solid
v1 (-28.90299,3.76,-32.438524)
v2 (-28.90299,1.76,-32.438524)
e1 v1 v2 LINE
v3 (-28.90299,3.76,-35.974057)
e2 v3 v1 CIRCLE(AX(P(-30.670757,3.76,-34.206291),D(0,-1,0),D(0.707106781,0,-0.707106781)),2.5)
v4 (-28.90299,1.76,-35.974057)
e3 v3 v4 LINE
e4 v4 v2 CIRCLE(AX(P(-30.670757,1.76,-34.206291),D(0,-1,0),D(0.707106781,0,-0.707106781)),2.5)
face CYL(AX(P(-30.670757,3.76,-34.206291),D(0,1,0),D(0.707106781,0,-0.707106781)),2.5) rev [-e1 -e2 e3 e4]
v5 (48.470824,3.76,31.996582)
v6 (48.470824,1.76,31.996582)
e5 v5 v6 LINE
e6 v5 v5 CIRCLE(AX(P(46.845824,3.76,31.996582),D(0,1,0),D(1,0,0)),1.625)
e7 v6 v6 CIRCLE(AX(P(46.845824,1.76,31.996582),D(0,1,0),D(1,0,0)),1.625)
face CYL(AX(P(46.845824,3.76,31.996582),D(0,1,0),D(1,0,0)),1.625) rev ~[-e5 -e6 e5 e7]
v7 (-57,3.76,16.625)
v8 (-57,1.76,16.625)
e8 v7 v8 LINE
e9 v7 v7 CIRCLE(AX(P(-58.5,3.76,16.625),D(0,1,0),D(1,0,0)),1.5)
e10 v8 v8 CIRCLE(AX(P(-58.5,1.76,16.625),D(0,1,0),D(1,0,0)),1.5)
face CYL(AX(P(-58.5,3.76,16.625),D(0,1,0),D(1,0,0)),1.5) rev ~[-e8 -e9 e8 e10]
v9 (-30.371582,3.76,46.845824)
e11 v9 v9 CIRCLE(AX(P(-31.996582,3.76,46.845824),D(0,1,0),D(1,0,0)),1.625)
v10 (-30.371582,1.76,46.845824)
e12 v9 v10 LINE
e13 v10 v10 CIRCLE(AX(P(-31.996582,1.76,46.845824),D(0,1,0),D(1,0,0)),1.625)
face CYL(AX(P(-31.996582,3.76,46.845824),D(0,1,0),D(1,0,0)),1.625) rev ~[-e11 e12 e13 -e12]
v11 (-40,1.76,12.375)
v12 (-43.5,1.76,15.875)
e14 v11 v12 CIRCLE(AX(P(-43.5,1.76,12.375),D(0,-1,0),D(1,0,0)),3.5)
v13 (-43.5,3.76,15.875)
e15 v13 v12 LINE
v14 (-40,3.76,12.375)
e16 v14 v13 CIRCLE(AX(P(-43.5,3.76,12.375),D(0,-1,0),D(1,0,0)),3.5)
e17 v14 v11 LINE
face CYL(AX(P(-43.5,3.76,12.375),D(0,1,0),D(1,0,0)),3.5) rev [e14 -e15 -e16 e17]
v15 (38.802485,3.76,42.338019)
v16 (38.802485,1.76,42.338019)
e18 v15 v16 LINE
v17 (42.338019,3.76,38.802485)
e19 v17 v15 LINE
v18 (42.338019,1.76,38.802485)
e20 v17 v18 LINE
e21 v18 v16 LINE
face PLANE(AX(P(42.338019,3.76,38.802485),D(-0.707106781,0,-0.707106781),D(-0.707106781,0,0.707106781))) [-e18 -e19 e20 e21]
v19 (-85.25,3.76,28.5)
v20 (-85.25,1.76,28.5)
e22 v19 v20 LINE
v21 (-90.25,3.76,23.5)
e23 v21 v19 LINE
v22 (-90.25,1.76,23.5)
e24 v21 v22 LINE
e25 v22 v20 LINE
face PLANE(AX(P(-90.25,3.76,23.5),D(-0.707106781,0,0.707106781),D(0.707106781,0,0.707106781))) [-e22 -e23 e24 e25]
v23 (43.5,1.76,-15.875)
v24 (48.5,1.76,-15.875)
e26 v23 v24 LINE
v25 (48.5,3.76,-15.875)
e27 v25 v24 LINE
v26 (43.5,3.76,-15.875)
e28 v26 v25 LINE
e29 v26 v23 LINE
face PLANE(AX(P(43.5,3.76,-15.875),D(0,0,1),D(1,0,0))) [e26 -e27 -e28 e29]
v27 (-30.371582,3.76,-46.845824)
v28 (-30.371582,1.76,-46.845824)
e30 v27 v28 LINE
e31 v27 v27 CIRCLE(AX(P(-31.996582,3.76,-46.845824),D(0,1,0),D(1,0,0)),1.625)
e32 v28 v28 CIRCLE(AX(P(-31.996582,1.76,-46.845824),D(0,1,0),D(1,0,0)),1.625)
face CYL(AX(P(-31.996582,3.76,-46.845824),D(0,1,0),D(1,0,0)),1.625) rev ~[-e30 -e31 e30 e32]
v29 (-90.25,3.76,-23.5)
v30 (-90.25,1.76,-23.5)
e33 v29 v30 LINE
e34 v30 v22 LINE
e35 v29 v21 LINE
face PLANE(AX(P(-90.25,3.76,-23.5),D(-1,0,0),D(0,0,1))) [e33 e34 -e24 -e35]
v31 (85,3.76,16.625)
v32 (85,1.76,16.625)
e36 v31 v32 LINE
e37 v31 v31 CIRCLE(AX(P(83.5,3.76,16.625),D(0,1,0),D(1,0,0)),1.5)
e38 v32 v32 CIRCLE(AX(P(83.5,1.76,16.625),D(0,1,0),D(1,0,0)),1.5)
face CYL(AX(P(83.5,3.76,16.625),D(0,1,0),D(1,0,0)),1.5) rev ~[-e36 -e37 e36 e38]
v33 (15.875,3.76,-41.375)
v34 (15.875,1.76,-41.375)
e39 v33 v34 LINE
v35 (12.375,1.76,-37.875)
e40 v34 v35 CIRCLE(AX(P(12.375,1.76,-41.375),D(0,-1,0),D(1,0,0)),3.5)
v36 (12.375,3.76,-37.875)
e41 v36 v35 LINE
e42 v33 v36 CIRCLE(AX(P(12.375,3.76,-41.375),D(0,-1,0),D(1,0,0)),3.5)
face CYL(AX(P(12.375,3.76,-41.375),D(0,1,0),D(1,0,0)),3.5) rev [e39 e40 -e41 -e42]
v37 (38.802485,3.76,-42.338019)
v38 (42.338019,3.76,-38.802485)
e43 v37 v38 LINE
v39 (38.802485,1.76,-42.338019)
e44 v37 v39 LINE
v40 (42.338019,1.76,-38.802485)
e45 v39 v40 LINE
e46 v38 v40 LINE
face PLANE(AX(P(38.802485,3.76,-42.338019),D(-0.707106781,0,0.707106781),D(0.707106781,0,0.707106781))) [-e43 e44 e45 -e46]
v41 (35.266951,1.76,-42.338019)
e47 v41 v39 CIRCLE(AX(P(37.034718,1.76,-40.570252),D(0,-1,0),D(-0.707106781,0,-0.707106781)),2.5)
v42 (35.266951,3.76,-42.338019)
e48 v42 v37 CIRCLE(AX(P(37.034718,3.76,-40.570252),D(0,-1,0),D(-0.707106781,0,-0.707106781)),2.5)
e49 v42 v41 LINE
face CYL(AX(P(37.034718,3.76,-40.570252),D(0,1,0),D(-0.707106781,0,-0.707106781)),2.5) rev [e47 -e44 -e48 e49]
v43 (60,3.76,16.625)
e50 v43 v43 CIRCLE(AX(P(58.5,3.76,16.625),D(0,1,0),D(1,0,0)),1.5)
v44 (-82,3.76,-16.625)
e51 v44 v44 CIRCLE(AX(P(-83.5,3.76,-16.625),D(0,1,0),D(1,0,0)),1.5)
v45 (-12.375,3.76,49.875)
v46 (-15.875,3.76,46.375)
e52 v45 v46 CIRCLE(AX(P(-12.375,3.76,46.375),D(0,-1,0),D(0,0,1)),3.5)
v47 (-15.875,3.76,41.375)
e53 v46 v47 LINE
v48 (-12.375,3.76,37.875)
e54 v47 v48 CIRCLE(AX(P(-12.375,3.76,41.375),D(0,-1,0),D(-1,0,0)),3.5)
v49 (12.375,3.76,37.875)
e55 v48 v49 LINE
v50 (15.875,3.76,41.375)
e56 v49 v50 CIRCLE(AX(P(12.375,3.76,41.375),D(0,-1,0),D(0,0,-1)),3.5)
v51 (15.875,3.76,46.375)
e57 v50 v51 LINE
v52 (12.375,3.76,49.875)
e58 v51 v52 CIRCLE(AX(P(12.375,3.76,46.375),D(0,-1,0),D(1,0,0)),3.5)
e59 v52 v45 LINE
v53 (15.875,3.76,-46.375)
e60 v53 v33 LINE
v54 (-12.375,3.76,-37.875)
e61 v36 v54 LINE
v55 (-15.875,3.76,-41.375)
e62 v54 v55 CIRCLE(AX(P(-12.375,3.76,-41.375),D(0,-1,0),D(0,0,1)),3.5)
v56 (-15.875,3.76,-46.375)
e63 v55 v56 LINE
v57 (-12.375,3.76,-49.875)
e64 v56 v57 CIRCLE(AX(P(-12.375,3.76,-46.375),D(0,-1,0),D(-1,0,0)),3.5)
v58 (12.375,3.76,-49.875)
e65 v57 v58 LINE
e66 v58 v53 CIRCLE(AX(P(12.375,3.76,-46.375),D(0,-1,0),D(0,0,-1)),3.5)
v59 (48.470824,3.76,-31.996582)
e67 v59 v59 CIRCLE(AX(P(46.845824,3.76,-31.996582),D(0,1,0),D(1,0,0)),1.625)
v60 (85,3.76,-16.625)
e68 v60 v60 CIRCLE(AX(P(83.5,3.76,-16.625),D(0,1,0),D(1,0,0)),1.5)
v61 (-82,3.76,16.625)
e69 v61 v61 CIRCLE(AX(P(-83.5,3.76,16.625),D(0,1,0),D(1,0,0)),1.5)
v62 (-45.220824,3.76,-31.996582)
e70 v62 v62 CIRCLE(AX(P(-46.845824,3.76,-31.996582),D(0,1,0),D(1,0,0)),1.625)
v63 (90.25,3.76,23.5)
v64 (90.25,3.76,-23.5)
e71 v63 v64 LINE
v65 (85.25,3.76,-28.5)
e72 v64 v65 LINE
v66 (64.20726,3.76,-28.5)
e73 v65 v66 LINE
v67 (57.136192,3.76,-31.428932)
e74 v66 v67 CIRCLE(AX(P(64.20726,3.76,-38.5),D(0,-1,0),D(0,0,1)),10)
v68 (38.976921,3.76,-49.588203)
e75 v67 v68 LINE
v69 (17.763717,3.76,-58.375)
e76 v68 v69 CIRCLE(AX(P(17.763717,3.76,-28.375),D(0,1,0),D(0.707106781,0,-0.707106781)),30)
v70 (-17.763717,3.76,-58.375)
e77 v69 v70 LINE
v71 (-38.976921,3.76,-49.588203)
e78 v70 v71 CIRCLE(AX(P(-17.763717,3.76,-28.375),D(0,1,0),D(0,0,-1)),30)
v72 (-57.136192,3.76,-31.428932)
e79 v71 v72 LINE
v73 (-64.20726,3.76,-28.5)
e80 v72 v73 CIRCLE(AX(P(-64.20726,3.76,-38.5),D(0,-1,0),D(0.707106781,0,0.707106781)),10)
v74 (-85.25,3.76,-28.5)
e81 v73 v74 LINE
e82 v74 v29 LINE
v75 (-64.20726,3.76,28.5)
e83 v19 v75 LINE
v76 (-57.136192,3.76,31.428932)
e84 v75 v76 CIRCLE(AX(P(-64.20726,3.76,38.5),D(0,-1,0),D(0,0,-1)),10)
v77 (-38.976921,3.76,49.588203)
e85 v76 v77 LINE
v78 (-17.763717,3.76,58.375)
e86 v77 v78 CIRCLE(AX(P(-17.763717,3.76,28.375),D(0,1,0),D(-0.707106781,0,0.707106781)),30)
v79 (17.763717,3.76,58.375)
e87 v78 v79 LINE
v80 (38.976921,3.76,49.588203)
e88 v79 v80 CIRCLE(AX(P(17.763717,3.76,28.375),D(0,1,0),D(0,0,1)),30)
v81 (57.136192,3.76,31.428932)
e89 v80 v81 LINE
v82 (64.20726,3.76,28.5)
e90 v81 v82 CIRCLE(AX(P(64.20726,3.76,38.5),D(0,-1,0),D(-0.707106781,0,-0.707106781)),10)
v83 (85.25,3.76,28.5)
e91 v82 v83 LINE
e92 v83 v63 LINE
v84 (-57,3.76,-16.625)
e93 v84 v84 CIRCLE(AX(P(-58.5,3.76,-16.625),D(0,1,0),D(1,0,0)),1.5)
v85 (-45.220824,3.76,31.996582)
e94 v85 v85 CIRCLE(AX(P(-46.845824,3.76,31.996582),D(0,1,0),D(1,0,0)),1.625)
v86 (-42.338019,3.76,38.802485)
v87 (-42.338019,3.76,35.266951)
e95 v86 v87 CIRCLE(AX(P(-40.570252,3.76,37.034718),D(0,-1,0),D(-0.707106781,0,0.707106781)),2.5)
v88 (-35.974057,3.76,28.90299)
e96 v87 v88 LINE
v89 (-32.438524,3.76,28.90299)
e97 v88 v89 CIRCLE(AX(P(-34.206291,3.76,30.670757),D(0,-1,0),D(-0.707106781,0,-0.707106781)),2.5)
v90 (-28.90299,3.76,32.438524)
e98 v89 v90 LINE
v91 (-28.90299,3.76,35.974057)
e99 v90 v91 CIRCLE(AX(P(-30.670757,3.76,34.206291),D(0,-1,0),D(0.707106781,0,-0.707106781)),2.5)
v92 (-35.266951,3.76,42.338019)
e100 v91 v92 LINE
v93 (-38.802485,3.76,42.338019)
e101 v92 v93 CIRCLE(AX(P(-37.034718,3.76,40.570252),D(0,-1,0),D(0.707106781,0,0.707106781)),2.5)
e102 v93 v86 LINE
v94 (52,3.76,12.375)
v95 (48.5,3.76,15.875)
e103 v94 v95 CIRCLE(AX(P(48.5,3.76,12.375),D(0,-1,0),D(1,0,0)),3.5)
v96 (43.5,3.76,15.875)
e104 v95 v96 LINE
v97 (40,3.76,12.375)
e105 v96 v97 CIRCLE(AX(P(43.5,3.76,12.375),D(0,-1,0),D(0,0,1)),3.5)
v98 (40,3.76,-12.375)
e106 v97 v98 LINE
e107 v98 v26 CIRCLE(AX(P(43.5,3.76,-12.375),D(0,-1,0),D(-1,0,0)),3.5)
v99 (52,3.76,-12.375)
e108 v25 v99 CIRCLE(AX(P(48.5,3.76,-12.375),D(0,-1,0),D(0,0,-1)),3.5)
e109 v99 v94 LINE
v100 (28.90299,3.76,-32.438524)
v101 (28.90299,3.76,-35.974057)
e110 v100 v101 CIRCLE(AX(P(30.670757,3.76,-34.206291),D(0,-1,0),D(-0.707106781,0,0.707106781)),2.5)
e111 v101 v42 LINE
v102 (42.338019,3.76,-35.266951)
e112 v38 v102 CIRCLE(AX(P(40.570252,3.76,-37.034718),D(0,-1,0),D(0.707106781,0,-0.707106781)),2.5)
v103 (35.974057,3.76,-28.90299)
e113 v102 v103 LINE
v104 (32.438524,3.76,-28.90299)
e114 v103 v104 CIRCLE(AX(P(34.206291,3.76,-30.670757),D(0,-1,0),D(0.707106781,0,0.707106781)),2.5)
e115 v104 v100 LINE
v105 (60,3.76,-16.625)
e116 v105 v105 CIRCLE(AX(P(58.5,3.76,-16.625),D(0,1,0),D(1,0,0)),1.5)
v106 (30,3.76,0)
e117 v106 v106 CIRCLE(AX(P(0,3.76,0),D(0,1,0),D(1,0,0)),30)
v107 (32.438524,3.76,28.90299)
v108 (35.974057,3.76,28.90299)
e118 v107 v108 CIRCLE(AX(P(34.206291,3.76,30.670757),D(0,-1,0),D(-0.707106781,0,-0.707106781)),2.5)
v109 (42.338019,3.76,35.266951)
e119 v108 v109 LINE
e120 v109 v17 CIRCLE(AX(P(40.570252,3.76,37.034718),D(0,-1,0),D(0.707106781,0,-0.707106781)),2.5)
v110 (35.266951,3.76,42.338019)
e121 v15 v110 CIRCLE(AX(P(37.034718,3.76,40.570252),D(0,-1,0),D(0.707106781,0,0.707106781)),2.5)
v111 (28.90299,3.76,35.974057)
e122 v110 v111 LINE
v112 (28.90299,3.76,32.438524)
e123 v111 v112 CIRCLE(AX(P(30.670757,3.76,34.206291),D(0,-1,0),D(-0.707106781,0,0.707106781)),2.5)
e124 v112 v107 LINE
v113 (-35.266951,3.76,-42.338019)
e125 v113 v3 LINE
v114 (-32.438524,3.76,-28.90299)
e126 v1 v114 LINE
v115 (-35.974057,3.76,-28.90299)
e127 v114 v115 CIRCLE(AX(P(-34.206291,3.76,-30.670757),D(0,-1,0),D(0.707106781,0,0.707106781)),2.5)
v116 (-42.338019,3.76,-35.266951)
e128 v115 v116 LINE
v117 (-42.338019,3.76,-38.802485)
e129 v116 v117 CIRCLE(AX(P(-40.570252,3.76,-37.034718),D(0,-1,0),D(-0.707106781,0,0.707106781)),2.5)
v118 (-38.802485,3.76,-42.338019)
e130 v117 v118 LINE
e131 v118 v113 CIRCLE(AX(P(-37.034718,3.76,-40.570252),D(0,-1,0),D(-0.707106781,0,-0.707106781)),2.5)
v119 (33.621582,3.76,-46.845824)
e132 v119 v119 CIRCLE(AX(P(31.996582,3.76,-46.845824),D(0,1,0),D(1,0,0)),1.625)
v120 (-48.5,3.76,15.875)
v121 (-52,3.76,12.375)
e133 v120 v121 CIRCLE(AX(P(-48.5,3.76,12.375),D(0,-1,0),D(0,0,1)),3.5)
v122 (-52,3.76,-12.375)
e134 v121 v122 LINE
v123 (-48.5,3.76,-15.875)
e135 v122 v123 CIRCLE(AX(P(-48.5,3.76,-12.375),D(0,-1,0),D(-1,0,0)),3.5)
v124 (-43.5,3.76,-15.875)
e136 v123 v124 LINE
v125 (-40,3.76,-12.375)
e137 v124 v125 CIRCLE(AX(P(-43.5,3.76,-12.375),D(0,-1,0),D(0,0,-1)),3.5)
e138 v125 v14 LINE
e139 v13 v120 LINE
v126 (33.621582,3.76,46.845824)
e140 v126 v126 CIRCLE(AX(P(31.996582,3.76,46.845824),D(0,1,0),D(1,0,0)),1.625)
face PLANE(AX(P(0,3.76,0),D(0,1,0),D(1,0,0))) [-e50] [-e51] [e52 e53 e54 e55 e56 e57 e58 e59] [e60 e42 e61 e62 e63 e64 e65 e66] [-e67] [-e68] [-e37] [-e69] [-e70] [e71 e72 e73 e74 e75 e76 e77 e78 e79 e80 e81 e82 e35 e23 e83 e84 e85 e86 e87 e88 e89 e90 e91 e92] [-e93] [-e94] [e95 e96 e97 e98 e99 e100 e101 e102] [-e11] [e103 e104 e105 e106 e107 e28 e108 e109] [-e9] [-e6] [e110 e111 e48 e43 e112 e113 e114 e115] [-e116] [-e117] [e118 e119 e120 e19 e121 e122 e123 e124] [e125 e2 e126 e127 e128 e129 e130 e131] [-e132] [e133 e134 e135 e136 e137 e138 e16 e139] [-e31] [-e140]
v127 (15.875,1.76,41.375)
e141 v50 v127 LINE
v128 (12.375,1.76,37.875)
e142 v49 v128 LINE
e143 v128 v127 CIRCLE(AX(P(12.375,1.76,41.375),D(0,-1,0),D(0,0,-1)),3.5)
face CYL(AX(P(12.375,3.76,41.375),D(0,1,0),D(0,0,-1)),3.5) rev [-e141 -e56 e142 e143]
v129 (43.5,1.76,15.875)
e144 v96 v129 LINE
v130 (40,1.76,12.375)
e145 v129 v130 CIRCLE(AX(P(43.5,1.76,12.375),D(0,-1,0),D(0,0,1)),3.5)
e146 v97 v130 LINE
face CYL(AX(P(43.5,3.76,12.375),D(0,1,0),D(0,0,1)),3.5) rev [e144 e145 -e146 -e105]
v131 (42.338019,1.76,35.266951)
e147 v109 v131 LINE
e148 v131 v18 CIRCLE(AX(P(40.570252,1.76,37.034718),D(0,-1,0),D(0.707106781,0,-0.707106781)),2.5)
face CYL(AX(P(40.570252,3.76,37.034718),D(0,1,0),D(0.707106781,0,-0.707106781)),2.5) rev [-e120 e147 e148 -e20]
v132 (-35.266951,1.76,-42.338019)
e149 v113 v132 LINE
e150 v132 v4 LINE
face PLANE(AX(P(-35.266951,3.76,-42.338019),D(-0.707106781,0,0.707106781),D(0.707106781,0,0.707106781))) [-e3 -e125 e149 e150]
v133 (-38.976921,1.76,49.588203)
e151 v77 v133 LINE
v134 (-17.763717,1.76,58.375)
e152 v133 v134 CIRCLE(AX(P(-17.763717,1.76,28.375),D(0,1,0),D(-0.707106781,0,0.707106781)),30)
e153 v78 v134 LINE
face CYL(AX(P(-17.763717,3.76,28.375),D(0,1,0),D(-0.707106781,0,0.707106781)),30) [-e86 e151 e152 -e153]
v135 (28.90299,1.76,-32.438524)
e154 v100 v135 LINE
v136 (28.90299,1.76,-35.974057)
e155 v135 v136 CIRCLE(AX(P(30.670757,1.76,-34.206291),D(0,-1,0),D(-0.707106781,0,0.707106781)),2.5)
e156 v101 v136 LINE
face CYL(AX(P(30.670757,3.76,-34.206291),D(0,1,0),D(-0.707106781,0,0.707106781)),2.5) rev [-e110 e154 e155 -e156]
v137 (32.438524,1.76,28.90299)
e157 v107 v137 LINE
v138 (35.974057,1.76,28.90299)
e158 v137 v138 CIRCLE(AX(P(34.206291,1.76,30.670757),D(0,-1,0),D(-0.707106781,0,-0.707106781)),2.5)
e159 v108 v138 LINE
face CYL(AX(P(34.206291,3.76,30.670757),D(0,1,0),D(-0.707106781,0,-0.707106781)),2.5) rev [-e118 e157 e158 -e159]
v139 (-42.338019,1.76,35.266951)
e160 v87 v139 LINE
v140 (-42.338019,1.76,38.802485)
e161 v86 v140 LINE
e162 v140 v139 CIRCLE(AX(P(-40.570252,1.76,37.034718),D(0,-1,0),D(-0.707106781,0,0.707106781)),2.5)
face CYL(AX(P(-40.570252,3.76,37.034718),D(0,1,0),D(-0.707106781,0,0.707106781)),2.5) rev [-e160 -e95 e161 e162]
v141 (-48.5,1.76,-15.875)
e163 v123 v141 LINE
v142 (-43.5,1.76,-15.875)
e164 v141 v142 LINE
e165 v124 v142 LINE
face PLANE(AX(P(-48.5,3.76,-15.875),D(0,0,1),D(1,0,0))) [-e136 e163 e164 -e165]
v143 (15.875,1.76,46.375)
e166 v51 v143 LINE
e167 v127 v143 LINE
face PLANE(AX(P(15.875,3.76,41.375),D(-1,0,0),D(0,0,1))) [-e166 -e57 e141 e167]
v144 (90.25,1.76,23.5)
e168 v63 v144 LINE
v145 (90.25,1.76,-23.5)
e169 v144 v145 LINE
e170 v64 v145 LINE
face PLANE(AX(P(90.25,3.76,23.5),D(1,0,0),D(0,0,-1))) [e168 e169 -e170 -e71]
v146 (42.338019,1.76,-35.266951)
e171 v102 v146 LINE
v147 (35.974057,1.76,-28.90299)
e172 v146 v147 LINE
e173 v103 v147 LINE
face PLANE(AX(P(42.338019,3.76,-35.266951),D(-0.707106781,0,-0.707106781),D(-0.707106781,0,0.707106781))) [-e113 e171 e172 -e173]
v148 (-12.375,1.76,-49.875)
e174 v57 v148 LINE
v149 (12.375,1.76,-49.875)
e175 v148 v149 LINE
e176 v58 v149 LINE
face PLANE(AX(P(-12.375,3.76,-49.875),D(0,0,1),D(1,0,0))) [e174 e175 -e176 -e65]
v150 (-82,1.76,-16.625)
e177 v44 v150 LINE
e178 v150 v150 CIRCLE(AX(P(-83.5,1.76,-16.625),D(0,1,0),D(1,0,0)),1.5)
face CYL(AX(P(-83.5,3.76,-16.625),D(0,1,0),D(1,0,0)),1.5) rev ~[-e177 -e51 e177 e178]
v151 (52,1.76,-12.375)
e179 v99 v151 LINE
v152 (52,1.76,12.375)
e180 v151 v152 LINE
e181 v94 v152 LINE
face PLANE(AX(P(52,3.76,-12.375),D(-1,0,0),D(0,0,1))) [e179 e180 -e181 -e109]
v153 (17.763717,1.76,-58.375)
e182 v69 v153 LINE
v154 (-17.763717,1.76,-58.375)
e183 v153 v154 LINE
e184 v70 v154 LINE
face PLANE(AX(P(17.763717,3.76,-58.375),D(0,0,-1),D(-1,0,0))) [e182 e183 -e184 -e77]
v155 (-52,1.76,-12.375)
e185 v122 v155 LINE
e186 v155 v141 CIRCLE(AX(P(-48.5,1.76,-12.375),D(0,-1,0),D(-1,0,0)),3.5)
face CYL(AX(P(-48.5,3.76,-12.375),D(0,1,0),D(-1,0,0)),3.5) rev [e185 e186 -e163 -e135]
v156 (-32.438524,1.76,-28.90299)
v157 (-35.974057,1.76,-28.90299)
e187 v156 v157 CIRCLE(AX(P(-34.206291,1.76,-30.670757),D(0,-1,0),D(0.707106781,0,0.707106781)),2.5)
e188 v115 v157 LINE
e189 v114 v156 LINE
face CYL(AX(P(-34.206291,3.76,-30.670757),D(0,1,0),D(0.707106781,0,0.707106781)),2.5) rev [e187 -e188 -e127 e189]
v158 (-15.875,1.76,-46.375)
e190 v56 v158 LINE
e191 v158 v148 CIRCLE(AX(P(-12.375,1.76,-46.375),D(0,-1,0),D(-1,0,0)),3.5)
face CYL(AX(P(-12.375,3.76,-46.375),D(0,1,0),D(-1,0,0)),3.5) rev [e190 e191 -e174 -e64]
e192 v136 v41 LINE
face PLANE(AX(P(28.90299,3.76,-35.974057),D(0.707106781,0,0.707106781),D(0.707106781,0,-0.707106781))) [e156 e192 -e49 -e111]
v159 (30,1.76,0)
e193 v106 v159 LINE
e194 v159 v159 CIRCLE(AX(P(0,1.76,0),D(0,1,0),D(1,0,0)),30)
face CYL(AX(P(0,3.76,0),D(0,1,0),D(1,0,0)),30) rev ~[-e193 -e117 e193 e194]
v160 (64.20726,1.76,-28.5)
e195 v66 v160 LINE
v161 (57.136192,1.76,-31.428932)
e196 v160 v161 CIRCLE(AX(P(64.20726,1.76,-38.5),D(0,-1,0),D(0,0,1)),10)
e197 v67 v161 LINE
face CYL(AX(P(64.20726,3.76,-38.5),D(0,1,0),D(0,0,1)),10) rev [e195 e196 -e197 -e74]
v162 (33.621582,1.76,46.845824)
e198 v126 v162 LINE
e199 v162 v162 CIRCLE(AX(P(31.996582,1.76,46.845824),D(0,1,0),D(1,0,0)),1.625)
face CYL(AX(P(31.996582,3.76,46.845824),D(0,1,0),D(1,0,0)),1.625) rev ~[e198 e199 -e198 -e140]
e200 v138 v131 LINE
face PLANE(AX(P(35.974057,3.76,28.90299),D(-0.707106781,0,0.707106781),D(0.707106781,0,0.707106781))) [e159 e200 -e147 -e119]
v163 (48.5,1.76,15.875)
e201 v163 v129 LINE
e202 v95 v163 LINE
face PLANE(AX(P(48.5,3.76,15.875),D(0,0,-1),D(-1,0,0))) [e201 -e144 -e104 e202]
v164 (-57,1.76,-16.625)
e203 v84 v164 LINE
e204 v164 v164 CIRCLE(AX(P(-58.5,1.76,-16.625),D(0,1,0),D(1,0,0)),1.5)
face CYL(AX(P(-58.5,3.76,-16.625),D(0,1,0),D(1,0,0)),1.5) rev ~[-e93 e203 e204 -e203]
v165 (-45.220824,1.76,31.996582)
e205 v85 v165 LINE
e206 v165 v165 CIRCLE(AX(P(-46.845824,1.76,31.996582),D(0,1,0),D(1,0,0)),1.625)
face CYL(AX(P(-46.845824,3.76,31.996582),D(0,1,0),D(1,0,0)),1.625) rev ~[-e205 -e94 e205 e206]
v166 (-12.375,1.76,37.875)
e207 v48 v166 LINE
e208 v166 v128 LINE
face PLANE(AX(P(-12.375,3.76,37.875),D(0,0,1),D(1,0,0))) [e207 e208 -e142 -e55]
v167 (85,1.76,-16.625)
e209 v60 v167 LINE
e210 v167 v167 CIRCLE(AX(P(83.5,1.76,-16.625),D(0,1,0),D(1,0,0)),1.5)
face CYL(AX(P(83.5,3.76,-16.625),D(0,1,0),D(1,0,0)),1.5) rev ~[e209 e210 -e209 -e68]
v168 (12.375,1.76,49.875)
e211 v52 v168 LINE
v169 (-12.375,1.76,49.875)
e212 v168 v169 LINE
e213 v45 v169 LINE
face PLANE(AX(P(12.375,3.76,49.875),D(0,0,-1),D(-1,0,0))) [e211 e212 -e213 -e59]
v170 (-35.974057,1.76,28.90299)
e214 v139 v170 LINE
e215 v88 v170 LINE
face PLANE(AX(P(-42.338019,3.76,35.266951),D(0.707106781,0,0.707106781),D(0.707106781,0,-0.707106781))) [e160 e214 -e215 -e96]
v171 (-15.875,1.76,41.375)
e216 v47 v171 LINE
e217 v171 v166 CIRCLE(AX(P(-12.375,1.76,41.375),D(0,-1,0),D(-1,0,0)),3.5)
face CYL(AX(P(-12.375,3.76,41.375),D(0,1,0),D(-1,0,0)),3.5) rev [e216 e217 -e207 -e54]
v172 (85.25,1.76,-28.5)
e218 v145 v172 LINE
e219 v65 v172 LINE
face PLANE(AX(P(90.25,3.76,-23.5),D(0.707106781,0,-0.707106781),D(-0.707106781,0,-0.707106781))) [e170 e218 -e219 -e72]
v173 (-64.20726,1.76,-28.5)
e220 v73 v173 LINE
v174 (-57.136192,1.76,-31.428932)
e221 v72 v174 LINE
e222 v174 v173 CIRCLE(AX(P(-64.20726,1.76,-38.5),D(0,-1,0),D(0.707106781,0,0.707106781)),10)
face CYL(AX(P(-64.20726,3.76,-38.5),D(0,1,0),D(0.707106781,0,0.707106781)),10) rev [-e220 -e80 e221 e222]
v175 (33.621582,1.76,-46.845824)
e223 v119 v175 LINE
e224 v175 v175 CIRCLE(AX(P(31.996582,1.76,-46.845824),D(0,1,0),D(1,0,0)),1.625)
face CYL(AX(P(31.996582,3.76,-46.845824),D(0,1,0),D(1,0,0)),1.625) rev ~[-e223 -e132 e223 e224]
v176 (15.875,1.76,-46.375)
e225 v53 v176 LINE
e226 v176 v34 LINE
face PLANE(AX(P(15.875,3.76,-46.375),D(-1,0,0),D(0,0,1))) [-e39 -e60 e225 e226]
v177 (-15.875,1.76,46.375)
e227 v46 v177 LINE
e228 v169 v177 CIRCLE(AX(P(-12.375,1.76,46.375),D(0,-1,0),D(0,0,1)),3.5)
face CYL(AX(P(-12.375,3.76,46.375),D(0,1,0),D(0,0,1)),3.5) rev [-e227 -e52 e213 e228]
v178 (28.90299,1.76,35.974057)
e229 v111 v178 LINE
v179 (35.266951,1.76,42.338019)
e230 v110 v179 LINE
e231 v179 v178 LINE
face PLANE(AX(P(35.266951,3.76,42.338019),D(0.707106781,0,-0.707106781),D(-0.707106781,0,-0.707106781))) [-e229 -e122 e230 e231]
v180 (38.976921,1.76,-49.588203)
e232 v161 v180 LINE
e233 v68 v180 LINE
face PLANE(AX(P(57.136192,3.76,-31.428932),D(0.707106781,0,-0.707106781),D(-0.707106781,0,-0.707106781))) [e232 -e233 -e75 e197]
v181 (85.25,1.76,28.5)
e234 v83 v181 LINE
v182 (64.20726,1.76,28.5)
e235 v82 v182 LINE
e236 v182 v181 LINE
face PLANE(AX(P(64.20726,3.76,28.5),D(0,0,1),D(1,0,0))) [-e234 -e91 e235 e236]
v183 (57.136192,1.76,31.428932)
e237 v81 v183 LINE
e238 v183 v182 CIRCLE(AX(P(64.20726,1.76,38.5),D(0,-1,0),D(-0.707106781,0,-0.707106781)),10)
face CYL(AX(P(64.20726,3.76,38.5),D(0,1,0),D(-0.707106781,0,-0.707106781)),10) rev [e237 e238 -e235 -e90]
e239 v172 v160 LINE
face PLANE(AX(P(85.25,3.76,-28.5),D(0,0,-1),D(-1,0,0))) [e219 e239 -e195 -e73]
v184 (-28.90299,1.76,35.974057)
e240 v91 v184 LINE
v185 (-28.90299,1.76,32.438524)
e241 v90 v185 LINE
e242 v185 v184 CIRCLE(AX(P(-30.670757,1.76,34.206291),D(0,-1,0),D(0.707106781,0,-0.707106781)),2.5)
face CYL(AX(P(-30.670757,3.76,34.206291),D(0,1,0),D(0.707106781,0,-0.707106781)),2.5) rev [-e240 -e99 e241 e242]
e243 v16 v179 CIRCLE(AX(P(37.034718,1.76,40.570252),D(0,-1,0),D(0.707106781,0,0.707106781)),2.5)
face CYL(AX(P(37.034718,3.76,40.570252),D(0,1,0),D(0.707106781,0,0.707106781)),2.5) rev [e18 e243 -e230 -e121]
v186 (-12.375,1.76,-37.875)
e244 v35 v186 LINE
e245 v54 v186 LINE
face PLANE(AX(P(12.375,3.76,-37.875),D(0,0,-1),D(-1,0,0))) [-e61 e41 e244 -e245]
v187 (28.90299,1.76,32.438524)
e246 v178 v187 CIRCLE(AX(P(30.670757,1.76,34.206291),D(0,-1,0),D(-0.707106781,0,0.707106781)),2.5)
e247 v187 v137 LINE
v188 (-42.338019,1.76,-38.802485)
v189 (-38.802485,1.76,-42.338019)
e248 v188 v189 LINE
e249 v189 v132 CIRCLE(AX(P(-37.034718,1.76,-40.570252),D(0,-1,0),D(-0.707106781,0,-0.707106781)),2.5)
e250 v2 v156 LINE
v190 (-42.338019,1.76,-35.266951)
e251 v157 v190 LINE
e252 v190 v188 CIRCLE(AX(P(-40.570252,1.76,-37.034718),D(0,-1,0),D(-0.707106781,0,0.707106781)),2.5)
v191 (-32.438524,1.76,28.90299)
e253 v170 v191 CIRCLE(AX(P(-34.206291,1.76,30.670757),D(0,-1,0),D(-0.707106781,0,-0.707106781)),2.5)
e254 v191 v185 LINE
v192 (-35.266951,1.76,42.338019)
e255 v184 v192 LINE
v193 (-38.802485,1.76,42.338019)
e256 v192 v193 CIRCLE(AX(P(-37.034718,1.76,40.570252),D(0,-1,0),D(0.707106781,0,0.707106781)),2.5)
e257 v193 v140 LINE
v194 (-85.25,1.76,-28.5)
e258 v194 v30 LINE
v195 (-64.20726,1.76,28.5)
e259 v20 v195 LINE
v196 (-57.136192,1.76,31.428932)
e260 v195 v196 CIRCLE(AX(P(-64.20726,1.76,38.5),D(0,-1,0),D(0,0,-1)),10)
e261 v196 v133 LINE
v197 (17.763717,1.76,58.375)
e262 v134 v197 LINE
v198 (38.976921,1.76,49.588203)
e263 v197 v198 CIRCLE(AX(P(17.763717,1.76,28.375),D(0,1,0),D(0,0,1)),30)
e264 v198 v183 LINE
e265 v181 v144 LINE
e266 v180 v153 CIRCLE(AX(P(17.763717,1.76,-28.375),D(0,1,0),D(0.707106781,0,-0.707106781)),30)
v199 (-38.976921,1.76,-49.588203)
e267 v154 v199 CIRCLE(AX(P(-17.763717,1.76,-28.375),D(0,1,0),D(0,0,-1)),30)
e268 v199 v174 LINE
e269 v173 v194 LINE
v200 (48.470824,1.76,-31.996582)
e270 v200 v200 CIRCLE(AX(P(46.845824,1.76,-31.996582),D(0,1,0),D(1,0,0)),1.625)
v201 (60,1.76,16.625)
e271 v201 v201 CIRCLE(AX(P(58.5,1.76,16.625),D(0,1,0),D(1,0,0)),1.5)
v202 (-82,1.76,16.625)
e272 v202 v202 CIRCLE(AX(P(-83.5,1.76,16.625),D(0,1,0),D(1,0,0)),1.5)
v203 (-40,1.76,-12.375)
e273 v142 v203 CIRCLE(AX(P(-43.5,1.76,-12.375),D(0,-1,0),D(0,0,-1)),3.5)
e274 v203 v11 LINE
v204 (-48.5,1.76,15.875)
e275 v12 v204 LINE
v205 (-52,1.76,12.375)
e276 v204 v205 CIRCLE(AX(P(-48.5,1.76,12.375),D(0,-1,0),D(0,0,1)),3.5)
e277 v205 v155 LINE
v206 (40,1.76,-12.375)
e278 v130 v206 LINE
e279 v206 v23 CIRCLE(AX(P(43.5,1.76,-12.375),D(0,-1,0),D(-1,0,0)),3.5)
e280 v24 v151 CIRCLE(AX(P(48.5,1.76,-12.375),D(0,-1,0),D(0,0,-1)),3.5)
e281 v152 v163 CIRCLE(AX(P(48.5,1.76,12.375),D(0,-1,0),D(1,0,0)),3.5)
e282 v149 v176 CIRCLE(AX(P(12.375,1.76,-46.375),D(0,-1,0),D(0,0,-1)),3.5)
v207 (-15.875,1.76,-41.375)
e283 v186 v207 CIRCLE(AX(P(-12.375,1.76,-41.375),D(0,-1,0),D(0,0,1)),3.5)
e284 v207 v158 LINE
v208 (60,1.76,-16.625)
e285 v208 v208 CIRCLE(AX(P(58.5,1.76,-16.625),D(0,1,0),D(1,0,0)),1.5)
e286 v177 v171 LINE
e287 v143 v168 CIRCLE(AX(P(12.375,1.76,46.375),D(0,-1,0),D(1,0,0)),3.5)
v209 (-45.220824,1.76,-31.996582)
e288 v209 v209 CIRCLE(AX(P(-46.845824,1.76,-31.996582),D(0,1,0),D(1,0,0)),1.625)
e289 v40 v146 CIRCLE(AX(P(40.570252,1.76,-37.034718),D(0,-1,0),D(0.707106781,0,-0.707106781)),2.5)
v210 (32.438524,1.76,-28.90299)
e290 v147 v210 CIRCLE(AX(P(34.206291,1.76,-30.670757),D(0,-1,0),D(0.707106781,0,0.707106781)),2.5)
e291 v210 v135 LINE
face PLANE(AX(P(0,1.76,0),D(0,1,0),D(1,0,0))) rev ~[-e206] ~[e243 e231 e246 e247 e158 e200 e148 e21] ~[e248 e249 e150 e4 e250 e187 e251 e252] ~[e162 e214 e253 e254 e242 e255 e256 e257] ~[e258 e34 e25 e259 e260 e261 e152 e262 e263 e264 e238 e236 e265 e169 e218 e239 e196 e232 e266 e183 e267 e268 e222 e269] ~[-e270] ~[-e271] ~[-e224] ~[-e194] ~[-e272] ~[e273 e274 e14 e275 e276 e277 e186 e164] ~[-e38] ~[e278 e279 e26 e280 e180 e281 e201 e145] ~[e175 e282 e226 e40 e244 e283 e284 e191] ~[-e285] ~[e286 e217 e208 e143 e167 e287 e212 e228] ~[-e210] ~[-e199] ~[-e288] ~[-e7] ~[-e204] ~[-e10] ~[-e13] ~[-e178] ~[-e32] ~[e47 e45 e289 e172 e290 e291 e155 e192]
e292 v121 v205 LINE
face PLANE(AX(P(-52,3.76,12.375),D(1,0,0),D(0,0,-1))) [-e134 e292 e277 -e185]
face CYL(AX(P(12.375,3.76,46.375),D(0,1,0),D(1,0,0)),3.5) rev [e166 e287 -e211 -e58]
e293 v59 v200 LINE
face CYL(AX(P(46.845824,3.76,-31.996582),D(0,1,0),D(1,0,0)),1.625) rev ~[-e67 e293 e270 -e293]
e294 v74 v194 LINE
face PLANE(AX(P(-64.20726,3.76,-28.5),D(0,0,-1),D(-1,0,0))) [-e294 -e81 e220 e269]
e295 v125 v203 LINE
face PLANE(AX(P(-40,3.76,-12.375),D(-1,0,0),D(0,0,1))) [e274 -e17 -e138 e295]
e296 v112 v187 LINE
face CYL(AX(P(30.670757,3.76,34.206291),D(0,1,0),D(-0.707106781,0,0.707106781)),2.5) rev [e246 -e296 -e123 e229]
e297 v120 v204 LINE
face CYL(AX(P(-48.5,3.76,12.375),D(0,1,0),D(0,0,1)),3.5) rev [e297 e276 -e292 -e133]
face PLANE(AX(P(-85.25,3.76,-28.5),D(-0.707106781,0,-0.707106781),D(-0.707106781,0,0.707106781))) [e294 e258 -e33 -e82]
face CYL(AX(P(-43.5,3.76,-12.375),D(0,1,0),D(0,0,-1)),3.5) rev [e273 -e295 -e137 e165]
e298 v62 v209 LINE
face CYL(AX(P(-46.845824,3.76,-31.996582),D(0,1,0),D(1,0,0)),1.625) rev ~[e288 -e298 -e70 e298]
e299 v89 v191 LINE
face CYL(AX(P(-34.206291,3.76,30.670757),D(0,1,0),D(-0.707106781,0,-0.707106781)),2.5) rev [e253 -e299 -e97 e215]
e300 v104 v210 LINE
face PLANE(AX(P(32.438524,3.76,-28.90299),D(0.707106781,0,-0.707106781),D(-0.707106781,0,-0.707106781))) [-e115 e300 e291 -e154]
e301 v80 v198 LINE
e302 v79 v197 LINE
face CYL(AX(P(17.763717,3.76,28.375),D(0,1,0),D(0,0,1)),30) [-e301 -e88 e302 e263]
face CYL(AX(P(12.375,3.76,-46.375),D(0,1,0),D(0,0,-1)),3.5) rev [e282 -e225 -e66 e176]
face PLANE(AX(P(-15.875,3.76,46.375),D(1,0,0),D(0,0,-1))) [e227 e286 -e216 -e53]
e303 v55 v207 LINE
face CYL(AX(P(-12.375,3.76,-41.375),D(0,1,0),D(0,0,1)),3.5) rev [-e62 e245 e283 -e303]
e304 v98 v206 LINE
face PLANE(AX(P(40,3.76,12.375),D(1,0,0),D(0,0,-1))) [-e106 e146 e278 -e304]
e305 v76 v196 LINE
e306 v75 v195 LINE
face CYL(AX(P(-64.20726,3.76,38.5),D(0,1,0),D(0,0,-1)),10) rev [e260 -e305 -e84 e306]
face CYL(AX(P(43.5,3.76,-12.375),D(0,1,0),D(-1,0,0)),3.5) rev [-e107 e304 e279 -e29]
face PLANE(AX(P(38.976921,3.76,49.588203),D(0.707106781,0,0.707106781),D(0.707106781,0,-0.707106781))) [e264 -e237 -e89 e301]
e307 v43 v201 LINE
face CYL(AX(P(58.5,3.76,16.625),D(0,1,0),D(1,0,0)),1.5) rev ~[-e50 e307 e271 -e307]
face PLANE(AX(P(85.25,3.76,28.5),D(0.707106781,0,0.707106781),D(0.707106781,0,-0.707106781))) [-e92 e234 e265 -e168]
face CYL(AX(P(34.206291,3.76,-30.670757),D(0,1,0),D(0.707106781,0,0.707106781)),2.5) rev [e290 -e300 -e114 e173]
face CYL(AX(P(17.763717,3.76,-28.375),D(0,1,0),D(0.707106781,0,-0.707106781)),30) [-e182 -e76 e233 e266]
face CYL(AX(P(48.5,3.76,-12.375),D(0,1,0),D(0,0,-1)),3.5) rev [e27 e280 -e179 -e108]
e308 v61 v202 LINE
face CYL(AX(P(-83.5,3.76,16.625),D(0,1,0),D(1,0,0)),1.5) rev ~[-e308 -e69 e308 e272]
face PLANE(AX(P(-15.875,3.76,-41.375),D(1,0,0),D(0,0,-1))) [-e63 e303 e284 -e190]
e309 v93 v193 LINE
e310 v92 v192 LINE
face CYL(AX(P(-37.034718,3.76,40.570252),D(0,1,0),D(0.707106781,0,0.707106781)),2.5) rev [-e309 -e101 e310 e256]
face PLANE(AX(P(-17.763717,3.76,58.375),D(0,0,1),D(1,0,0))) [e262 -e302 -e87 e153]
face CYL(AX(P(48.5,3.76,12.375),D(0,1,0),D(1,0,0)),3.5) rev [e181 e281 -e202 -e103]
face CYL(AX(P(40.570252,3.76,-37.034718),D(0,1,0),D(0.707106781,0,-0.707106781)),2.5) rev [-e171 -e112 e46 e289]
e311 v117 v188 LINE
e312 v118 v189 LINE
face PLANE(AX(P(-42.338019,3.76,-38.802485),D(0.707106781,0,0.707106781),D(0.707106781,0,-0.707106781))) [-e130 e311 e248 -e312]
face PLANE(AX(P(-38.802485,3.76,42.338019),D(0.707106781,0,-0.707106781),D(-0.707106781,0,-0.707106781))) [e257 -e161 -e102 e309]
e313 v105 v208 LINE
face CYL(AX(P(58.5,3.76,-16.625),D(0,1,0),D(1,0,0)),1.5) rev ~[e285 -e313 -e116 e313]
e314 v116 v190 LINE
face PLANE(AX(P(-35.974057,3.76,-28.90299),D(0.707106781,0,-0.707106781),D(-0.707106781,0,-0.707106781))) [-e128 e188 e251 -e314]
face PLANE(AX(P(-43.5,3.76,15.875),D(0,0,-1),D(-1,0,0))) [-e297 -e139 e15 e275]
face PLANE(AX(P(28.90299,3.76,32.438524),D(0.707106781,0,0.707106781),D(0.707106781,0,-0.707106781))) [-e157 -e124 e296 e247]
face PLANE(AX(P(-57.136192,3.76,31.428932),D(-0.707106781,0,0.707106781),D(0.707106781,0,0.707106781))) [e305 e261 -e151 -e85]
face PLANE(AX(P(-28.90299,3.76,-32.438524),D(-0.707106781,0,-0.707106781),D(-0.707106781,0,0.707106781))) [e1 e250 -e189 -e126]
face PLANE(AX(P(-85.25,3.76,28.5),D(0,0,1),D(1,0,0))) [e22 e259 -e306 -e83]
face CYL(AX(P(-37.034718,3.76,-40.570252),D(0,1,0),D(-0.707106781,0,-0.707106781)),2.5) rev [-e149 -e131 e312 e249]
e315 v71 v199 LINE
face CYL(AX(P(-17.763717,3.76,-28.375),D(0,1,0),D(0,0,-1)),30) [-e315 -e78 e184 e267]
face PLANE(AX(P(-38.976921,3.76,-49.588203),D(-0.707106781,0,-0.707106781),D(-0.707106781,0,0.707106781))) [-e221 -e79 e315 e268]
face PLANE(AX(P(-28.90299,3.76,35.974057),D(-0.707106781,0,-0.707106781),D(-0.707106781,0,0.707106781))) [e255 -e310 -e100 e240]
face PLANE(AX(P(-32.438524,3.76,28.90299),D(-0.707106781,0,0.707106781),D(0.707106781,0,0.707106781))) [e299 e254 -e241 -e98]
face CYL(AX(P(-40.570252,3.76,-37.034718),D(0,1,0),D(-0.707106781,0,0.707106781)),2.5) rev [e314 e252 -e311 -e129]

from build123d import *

# Parameters (mm, degrees)
SKETCH1_R           = 1.625
SKETCH1_R_2         = 1.5
SKETCH1_R_3         = 30
BOSS_EXTRUDE1_DEPTH = 2


with BuildPart() as part:
    # Sketch1 → Boss-Extrude1 (new body)
    with BuildSketch(Plane(origin=(0, 3.76, 0), x_dir=(1, 0, 0), z_dir=(0, 1, 0))):
        with BuildLine():
            Line((-17.763717472, -58.375), (17.763717472, -58.375))
            ThreePointArc((17.763717472, -58.375), (29.244220443, -56.091385975), (38.976920908, -49.588203436))
            Line((38.976920908, -49.588203436), (57.136192155, -31.428932188))
            ThreePointArc((57.136192155, -31.428932188), (60.380425644, -29.261204675), (64.207259967, -28.5))
            Line((64.207259967, -28.5), (85.25, -28.5))
            Line((85.25, -28.5), (90.25, -23.5))
            Line((90.25, -23.5), (90.25, 23.5))
            Line((90.25, 23.5), (85.25, 28.5))
            Line((85.25, 28.5), (64.207259967, 28.5))
            ThreePointArc((64.207259967, 28.5), (60.380425644, 29.261204675), (57.136192155, 31.428932188))
            Line((57.136192155, 31.428932188), (38.976920908, 49.588203436))
            ThreePointArc((38.976920908, 49.588203436), (29.244220443, 56.091385975), (17.763717472, 58.375))
            Line((17.763717472, 58.375), (-17.763717472, 58.375))
            ThreePointArc((-17.763717472, 58.375), (-29.244220443, 56.091385975), (-38.976920908, 49.588203436))
            Line((-38.976920908, 49.588203436), (-57.136192155, 31.428932188))
            ThreePointArc((-57.136192155, 31.428932188), (-60.380425644, 29.261204675), (-64.207259967, 28.5))
            Line((-64.207259967, 28.5), (-85.25, 28.5))
            Line((-85.25, 28.5), (-90.25, 23.5))
            Line((-90.25, 23.5), (-90.25, -23.5))
            Line((-90.25, -23.5), (-85.25, -28.5))
            Line((-85.25, -28.5), (-64.207259967, -28.5))
            ThreePointArc((-64.207259967, -28.5), (-60.380425644, -29.261204675), (-57.136192155, -31.428932188))
            Line((-57.136192155, -31.428932188), (-38.976920908, -49.588203436))
            ThreePointArc((-38.976920908, -49.588203436), (-29.244220443, -56.091385975), (-17.763717472, -58.375))
        make_face()
        with Locations((31.996581849, 46.845824254)):
            Circle(SKETCH1_R, mode=Mode.SUBTRACT)
        with Locations((31.996581849, -46.845824254)):
            Circle(SKETCH1_R, mode=Mode.SUBTRACT)
        with Locations((-31.996581849, 46.845824254)):
            Circle(SKETCH1_R, mode=Mode.SUBTRACT)
        with Locations((58.5, -16.625)):
            Circle(SKETCH1_R_2, mode=Mode.SUBTRACT)
        with Locations((-58.5, 16.625)):
            Circle(SKETCH1_R_2, mode=Mode.SUBTRACT)
        with Locations((-58.5, -16.625)):
            Circle(SKETCH1_R_2, mode=Mode.SUBTRACT)
        with Locations((58.5, 16.625)):
            Circle(SKETCH1_R_2, mode=Mode.SUBTRACT)
        with Locations((-83.5, 16.625)):
            Circle(SKETCH1_R_2, mode=Mode.SUBTRACT)
        with Locations((-83.5, -16.625)):
            Circle(SKETCH1_R_2, mode=Mode.SUBTRACT)
        with Locations((83.5, -16.625)):
            Circle(SKETCH1_R_2, mode=Mode.SUBTRACT)
        with Locations((83.5, 16.625)):
            Circle(SKETCH1_R_2, mode=Mode.SUBTRACT)
        Circle(SKETCH1_R_3, mode=Mode.SUBTRACT)
        with Locations((46.845824254, 31.996581849)):
            Circle(SKETCH1_R, mode=Mode.SUBTRACT)
        with Locations((46.845824254, -31.996581849)):
            Circle(SKETCH1_R, mode=Mode.SUBTRACT)
        with Locations((-46.845824254, 31.996581849)):
            Circle(SKETCH1_R, mode=Mode.SUBTRACT)
        with Locations((-46.845824254, -31.996581849)):
            Circle(SKETCH1_R, mode=Mode.SUBTRACT)
        with Locations((-31.996581849, -46.845824254)):
            Circle(SKETCH1_R, mode=Mode.SUBTRACT)
        with BuildLine():
            Line((-15.875, -46.375), (-15.875, -41.375))
            ThreePointArc((-15.875, -41.375), (-14.849873734, -38.900126266), (-12.375, -37.875))
            Line((-12.375, -37.875), (12.375, -37.875))
            ThreePointArc((12.375, -37.875), (14.849873734, -38.900126266), (15.875, -41.375))
            Line((15.875, -41.375), (15.875, -46.375))
            ThreePointArc((15.875, -46.375), (14.849873734, -48.849873734), (12.375, -49.875))
            Line((12.375, -49.875), (-12.375, -49.875))
            ThreePointArc((-12.375, -49.875), (-14.849873734, -48.849873734), (-15.875, -46.375))
        make_face(mode=Mode.SUBTRACT)
        with BuildLine():
            Line((15.875, 46.375), (15.875, 41.375))
            ThreePointArc((15.875, 41.375), (14.849873734, 38.900126266), (12.375, 37.875))
            Line((12.375, 37.875), (-12.375, 37.875))
            ThreePointArc((-12.375, 37.875), (-14.849873734, 38.900126266), (-15.875, 41.375))
            Line((-15.875, 41.375), (-15.875, 46.375))
            ThreePointArc((-15.875, 46.375), (-14.849873734, 48.849873734), (-12.375, 49.875))
            Line((-12.375, 49.875), (12.375, 49.875))
            ThreePointArc((12.375, 49.875), (14.849873734, 48.849873734), (15.875, 46.375))
        make_face(mode=Mode.SUBTRACT)
        with BuildLine():
            Line((-43.5, -15.875), (-48.5, -15.875))
            ThreePointArc((-48.5, -15.875), (-50.974873734, -14.849873734), (-52, -12.375))
            Line((-52, -12.375), (-52, 12.375))
            ThreePointArc((-52, 12.375), (-50.974873734, 14.849873734), (-48.5, 15.875))
            Line((-48.5, 15.875), (-43.5, 15.875))
            ThreePointArc((-43.5, 15.875), (-41.025126266, 14.849873734), (-40, 12.375))
            Line((-40, 12.375), (-40, -12.375))
            ThreePointArc((-40, -12.375), (-41.025126266, -14.849873734), (-43.5, -15.875))
        make_face(mode=Mode.SUBTRACT)
        with BuildLine():
            Line((-32.438523587, -28.902989681), (-28.902989681, -32.438523587))
            ThreePointArc((-28.902989681, -32.438523587), (-28.170756634, -34.20629054), (-28.902989681, -35.974057493))
            Line((-28.902989681, -35.974057493), (-35.266950712, -42.338018524))
            ThreePointArc((-35.266950712, -42.338018524), (-37.034717665, -43.070251571), (-38.802484618, -42.338018524))
            Line((-38.802484618, -42.338018524), (-42.338018524, -38.802484618))
            ThreePointArc((-42.338018524, -38.802484618), (-43.070251571, -37.034717665), (-42.338018524, -35.266950712))
            Line((-42.338018524, -35.266950712), (-35.974057493, -28.902989681))
            ThreePointArc((-35.974057493, -28.902989681), (-34.20629054, -28.170756634), (-32.438523587, -28.902989681))
        make_face(mode=Mode.SUBTRACT)
        with BuildLine():
            Line((32.438523587, 28.902989681), (28.902989681, 32.438523587))
            ThreePointArc((28.902989681, 32.438523587), (28.170756634, 34.20629054), (28.902989681, 35.974057493))
            Line((28.902989681, 35.974057493), (35.266950712, 42.338018524))
            ThreePointArc((35.266950712, 42.338018524), (37.034717665, 43.070251571), (38.802484618, 42.338018524))
            Line((38.802484618, 42.338018524), (42.338018524, 38.802484618))
            ThreePointArc((42.338018524, 38.802484618), (43.070251571, 37.034717665), (42.338018524, 35.266950712))
            Line((42.338018524, 35.266950712), (35.974057493, 28.902989681))
            ThreePointArc((35.974057493, 28.902989681), (34.20629054, 28.170756634), (32.438523587, 28.902989681))
        make_face(mode=Mode.SUBTRACT)
        with BuildLine():
            Line((28.902989681, -32.438523587), (32.438523587, -28.902989681))
            ThreePointArc((32.438523587, -28.902989681), (34.20629054, -28.170756634), (35.974057493, -28.902989681))
            Line((35.974057493, -28.902989681), (42.338018524, -35.266950712))
            ThreePointArc((42.338018524, -35.266950712), (43.070251571, -37.034717665), (42.338018524, -38.802484618))
            Line((42.338018524, -38.802484618), (38.802484618, -42.338018524))
            ThreePointArc((38.802484618, -42.338018524), (37.034717665, -43.070251571), (35.266950712, -42.338018524))
            Line((35.266950712, -42.338018524), (28.902989681, -35.974057493))
            ThreePointArc((28.902989681, -35.974057493), (28.170756634, -34.20629054), (28.902989681, -32.438523587))
        make_face(mode=Mode.SUBTRACT)
        with BuildLine():
            Line((-28.902989681, 32.438523587), (-32.438523587, 28.902989681))
            ThreePointArc((-32.438523587, 28.902989681), (-34.20629054, 28.170756634), (-35.974057493, 28.902989681))
            Line((-35.974057493, 28.902989681), (-42.338018524, 35.266950712))
            ThreePointArc((-42.338018524, 35.266950712), (-43.070251571, 37.034717665), (-42.338018524, 38.802484618))
            Line((-42.338018524, 38.802484618), (-38.802484618, 42.338018524))
            ThreePointArc((-38.802484618, 42.338018524), (-37.034717665, 43.070251571), (-35.266950712, 42.338018524))
            Line((-35.266950712, 42.338018524), (-28.902989681, 35.974057493))
            ThreePointArc((-28.902989681, 35.974057493), (-28.170756634, 34.20629054), (-28.902989681, 32.438523587))
        make_face(mode=Mode.SUBTRACT)
        with BuildLine():
            Line((43.5, 15.875), (48.5, 15.875))
            ThreePointArc((48.5, 15.875), (50.974873734, 14.849873734), (52, 12.375))
            Line((52, 12.375), (52, -12.375))
            ThreePointArc((52, -12.375), (50.974873734, -14.849873734), (48.5, -15.875))
            Line((48.5, -15.875), (43.5, -15.875))
            ThreePointArc((43.5, -15.875), (41.025126266, -14.849873734), (40, -12.375))
            Line((40, -12.375), (40, 12.375))
            ThreePointArc((40, 12.375), (41.025126266, 14.849873734), (43.5, 15.875))
        make_face(mode=Mode.SUBTRACT)
    extrude(amount=-BOSS_EXTRUDE1_DEPTH)


solid = part.part
